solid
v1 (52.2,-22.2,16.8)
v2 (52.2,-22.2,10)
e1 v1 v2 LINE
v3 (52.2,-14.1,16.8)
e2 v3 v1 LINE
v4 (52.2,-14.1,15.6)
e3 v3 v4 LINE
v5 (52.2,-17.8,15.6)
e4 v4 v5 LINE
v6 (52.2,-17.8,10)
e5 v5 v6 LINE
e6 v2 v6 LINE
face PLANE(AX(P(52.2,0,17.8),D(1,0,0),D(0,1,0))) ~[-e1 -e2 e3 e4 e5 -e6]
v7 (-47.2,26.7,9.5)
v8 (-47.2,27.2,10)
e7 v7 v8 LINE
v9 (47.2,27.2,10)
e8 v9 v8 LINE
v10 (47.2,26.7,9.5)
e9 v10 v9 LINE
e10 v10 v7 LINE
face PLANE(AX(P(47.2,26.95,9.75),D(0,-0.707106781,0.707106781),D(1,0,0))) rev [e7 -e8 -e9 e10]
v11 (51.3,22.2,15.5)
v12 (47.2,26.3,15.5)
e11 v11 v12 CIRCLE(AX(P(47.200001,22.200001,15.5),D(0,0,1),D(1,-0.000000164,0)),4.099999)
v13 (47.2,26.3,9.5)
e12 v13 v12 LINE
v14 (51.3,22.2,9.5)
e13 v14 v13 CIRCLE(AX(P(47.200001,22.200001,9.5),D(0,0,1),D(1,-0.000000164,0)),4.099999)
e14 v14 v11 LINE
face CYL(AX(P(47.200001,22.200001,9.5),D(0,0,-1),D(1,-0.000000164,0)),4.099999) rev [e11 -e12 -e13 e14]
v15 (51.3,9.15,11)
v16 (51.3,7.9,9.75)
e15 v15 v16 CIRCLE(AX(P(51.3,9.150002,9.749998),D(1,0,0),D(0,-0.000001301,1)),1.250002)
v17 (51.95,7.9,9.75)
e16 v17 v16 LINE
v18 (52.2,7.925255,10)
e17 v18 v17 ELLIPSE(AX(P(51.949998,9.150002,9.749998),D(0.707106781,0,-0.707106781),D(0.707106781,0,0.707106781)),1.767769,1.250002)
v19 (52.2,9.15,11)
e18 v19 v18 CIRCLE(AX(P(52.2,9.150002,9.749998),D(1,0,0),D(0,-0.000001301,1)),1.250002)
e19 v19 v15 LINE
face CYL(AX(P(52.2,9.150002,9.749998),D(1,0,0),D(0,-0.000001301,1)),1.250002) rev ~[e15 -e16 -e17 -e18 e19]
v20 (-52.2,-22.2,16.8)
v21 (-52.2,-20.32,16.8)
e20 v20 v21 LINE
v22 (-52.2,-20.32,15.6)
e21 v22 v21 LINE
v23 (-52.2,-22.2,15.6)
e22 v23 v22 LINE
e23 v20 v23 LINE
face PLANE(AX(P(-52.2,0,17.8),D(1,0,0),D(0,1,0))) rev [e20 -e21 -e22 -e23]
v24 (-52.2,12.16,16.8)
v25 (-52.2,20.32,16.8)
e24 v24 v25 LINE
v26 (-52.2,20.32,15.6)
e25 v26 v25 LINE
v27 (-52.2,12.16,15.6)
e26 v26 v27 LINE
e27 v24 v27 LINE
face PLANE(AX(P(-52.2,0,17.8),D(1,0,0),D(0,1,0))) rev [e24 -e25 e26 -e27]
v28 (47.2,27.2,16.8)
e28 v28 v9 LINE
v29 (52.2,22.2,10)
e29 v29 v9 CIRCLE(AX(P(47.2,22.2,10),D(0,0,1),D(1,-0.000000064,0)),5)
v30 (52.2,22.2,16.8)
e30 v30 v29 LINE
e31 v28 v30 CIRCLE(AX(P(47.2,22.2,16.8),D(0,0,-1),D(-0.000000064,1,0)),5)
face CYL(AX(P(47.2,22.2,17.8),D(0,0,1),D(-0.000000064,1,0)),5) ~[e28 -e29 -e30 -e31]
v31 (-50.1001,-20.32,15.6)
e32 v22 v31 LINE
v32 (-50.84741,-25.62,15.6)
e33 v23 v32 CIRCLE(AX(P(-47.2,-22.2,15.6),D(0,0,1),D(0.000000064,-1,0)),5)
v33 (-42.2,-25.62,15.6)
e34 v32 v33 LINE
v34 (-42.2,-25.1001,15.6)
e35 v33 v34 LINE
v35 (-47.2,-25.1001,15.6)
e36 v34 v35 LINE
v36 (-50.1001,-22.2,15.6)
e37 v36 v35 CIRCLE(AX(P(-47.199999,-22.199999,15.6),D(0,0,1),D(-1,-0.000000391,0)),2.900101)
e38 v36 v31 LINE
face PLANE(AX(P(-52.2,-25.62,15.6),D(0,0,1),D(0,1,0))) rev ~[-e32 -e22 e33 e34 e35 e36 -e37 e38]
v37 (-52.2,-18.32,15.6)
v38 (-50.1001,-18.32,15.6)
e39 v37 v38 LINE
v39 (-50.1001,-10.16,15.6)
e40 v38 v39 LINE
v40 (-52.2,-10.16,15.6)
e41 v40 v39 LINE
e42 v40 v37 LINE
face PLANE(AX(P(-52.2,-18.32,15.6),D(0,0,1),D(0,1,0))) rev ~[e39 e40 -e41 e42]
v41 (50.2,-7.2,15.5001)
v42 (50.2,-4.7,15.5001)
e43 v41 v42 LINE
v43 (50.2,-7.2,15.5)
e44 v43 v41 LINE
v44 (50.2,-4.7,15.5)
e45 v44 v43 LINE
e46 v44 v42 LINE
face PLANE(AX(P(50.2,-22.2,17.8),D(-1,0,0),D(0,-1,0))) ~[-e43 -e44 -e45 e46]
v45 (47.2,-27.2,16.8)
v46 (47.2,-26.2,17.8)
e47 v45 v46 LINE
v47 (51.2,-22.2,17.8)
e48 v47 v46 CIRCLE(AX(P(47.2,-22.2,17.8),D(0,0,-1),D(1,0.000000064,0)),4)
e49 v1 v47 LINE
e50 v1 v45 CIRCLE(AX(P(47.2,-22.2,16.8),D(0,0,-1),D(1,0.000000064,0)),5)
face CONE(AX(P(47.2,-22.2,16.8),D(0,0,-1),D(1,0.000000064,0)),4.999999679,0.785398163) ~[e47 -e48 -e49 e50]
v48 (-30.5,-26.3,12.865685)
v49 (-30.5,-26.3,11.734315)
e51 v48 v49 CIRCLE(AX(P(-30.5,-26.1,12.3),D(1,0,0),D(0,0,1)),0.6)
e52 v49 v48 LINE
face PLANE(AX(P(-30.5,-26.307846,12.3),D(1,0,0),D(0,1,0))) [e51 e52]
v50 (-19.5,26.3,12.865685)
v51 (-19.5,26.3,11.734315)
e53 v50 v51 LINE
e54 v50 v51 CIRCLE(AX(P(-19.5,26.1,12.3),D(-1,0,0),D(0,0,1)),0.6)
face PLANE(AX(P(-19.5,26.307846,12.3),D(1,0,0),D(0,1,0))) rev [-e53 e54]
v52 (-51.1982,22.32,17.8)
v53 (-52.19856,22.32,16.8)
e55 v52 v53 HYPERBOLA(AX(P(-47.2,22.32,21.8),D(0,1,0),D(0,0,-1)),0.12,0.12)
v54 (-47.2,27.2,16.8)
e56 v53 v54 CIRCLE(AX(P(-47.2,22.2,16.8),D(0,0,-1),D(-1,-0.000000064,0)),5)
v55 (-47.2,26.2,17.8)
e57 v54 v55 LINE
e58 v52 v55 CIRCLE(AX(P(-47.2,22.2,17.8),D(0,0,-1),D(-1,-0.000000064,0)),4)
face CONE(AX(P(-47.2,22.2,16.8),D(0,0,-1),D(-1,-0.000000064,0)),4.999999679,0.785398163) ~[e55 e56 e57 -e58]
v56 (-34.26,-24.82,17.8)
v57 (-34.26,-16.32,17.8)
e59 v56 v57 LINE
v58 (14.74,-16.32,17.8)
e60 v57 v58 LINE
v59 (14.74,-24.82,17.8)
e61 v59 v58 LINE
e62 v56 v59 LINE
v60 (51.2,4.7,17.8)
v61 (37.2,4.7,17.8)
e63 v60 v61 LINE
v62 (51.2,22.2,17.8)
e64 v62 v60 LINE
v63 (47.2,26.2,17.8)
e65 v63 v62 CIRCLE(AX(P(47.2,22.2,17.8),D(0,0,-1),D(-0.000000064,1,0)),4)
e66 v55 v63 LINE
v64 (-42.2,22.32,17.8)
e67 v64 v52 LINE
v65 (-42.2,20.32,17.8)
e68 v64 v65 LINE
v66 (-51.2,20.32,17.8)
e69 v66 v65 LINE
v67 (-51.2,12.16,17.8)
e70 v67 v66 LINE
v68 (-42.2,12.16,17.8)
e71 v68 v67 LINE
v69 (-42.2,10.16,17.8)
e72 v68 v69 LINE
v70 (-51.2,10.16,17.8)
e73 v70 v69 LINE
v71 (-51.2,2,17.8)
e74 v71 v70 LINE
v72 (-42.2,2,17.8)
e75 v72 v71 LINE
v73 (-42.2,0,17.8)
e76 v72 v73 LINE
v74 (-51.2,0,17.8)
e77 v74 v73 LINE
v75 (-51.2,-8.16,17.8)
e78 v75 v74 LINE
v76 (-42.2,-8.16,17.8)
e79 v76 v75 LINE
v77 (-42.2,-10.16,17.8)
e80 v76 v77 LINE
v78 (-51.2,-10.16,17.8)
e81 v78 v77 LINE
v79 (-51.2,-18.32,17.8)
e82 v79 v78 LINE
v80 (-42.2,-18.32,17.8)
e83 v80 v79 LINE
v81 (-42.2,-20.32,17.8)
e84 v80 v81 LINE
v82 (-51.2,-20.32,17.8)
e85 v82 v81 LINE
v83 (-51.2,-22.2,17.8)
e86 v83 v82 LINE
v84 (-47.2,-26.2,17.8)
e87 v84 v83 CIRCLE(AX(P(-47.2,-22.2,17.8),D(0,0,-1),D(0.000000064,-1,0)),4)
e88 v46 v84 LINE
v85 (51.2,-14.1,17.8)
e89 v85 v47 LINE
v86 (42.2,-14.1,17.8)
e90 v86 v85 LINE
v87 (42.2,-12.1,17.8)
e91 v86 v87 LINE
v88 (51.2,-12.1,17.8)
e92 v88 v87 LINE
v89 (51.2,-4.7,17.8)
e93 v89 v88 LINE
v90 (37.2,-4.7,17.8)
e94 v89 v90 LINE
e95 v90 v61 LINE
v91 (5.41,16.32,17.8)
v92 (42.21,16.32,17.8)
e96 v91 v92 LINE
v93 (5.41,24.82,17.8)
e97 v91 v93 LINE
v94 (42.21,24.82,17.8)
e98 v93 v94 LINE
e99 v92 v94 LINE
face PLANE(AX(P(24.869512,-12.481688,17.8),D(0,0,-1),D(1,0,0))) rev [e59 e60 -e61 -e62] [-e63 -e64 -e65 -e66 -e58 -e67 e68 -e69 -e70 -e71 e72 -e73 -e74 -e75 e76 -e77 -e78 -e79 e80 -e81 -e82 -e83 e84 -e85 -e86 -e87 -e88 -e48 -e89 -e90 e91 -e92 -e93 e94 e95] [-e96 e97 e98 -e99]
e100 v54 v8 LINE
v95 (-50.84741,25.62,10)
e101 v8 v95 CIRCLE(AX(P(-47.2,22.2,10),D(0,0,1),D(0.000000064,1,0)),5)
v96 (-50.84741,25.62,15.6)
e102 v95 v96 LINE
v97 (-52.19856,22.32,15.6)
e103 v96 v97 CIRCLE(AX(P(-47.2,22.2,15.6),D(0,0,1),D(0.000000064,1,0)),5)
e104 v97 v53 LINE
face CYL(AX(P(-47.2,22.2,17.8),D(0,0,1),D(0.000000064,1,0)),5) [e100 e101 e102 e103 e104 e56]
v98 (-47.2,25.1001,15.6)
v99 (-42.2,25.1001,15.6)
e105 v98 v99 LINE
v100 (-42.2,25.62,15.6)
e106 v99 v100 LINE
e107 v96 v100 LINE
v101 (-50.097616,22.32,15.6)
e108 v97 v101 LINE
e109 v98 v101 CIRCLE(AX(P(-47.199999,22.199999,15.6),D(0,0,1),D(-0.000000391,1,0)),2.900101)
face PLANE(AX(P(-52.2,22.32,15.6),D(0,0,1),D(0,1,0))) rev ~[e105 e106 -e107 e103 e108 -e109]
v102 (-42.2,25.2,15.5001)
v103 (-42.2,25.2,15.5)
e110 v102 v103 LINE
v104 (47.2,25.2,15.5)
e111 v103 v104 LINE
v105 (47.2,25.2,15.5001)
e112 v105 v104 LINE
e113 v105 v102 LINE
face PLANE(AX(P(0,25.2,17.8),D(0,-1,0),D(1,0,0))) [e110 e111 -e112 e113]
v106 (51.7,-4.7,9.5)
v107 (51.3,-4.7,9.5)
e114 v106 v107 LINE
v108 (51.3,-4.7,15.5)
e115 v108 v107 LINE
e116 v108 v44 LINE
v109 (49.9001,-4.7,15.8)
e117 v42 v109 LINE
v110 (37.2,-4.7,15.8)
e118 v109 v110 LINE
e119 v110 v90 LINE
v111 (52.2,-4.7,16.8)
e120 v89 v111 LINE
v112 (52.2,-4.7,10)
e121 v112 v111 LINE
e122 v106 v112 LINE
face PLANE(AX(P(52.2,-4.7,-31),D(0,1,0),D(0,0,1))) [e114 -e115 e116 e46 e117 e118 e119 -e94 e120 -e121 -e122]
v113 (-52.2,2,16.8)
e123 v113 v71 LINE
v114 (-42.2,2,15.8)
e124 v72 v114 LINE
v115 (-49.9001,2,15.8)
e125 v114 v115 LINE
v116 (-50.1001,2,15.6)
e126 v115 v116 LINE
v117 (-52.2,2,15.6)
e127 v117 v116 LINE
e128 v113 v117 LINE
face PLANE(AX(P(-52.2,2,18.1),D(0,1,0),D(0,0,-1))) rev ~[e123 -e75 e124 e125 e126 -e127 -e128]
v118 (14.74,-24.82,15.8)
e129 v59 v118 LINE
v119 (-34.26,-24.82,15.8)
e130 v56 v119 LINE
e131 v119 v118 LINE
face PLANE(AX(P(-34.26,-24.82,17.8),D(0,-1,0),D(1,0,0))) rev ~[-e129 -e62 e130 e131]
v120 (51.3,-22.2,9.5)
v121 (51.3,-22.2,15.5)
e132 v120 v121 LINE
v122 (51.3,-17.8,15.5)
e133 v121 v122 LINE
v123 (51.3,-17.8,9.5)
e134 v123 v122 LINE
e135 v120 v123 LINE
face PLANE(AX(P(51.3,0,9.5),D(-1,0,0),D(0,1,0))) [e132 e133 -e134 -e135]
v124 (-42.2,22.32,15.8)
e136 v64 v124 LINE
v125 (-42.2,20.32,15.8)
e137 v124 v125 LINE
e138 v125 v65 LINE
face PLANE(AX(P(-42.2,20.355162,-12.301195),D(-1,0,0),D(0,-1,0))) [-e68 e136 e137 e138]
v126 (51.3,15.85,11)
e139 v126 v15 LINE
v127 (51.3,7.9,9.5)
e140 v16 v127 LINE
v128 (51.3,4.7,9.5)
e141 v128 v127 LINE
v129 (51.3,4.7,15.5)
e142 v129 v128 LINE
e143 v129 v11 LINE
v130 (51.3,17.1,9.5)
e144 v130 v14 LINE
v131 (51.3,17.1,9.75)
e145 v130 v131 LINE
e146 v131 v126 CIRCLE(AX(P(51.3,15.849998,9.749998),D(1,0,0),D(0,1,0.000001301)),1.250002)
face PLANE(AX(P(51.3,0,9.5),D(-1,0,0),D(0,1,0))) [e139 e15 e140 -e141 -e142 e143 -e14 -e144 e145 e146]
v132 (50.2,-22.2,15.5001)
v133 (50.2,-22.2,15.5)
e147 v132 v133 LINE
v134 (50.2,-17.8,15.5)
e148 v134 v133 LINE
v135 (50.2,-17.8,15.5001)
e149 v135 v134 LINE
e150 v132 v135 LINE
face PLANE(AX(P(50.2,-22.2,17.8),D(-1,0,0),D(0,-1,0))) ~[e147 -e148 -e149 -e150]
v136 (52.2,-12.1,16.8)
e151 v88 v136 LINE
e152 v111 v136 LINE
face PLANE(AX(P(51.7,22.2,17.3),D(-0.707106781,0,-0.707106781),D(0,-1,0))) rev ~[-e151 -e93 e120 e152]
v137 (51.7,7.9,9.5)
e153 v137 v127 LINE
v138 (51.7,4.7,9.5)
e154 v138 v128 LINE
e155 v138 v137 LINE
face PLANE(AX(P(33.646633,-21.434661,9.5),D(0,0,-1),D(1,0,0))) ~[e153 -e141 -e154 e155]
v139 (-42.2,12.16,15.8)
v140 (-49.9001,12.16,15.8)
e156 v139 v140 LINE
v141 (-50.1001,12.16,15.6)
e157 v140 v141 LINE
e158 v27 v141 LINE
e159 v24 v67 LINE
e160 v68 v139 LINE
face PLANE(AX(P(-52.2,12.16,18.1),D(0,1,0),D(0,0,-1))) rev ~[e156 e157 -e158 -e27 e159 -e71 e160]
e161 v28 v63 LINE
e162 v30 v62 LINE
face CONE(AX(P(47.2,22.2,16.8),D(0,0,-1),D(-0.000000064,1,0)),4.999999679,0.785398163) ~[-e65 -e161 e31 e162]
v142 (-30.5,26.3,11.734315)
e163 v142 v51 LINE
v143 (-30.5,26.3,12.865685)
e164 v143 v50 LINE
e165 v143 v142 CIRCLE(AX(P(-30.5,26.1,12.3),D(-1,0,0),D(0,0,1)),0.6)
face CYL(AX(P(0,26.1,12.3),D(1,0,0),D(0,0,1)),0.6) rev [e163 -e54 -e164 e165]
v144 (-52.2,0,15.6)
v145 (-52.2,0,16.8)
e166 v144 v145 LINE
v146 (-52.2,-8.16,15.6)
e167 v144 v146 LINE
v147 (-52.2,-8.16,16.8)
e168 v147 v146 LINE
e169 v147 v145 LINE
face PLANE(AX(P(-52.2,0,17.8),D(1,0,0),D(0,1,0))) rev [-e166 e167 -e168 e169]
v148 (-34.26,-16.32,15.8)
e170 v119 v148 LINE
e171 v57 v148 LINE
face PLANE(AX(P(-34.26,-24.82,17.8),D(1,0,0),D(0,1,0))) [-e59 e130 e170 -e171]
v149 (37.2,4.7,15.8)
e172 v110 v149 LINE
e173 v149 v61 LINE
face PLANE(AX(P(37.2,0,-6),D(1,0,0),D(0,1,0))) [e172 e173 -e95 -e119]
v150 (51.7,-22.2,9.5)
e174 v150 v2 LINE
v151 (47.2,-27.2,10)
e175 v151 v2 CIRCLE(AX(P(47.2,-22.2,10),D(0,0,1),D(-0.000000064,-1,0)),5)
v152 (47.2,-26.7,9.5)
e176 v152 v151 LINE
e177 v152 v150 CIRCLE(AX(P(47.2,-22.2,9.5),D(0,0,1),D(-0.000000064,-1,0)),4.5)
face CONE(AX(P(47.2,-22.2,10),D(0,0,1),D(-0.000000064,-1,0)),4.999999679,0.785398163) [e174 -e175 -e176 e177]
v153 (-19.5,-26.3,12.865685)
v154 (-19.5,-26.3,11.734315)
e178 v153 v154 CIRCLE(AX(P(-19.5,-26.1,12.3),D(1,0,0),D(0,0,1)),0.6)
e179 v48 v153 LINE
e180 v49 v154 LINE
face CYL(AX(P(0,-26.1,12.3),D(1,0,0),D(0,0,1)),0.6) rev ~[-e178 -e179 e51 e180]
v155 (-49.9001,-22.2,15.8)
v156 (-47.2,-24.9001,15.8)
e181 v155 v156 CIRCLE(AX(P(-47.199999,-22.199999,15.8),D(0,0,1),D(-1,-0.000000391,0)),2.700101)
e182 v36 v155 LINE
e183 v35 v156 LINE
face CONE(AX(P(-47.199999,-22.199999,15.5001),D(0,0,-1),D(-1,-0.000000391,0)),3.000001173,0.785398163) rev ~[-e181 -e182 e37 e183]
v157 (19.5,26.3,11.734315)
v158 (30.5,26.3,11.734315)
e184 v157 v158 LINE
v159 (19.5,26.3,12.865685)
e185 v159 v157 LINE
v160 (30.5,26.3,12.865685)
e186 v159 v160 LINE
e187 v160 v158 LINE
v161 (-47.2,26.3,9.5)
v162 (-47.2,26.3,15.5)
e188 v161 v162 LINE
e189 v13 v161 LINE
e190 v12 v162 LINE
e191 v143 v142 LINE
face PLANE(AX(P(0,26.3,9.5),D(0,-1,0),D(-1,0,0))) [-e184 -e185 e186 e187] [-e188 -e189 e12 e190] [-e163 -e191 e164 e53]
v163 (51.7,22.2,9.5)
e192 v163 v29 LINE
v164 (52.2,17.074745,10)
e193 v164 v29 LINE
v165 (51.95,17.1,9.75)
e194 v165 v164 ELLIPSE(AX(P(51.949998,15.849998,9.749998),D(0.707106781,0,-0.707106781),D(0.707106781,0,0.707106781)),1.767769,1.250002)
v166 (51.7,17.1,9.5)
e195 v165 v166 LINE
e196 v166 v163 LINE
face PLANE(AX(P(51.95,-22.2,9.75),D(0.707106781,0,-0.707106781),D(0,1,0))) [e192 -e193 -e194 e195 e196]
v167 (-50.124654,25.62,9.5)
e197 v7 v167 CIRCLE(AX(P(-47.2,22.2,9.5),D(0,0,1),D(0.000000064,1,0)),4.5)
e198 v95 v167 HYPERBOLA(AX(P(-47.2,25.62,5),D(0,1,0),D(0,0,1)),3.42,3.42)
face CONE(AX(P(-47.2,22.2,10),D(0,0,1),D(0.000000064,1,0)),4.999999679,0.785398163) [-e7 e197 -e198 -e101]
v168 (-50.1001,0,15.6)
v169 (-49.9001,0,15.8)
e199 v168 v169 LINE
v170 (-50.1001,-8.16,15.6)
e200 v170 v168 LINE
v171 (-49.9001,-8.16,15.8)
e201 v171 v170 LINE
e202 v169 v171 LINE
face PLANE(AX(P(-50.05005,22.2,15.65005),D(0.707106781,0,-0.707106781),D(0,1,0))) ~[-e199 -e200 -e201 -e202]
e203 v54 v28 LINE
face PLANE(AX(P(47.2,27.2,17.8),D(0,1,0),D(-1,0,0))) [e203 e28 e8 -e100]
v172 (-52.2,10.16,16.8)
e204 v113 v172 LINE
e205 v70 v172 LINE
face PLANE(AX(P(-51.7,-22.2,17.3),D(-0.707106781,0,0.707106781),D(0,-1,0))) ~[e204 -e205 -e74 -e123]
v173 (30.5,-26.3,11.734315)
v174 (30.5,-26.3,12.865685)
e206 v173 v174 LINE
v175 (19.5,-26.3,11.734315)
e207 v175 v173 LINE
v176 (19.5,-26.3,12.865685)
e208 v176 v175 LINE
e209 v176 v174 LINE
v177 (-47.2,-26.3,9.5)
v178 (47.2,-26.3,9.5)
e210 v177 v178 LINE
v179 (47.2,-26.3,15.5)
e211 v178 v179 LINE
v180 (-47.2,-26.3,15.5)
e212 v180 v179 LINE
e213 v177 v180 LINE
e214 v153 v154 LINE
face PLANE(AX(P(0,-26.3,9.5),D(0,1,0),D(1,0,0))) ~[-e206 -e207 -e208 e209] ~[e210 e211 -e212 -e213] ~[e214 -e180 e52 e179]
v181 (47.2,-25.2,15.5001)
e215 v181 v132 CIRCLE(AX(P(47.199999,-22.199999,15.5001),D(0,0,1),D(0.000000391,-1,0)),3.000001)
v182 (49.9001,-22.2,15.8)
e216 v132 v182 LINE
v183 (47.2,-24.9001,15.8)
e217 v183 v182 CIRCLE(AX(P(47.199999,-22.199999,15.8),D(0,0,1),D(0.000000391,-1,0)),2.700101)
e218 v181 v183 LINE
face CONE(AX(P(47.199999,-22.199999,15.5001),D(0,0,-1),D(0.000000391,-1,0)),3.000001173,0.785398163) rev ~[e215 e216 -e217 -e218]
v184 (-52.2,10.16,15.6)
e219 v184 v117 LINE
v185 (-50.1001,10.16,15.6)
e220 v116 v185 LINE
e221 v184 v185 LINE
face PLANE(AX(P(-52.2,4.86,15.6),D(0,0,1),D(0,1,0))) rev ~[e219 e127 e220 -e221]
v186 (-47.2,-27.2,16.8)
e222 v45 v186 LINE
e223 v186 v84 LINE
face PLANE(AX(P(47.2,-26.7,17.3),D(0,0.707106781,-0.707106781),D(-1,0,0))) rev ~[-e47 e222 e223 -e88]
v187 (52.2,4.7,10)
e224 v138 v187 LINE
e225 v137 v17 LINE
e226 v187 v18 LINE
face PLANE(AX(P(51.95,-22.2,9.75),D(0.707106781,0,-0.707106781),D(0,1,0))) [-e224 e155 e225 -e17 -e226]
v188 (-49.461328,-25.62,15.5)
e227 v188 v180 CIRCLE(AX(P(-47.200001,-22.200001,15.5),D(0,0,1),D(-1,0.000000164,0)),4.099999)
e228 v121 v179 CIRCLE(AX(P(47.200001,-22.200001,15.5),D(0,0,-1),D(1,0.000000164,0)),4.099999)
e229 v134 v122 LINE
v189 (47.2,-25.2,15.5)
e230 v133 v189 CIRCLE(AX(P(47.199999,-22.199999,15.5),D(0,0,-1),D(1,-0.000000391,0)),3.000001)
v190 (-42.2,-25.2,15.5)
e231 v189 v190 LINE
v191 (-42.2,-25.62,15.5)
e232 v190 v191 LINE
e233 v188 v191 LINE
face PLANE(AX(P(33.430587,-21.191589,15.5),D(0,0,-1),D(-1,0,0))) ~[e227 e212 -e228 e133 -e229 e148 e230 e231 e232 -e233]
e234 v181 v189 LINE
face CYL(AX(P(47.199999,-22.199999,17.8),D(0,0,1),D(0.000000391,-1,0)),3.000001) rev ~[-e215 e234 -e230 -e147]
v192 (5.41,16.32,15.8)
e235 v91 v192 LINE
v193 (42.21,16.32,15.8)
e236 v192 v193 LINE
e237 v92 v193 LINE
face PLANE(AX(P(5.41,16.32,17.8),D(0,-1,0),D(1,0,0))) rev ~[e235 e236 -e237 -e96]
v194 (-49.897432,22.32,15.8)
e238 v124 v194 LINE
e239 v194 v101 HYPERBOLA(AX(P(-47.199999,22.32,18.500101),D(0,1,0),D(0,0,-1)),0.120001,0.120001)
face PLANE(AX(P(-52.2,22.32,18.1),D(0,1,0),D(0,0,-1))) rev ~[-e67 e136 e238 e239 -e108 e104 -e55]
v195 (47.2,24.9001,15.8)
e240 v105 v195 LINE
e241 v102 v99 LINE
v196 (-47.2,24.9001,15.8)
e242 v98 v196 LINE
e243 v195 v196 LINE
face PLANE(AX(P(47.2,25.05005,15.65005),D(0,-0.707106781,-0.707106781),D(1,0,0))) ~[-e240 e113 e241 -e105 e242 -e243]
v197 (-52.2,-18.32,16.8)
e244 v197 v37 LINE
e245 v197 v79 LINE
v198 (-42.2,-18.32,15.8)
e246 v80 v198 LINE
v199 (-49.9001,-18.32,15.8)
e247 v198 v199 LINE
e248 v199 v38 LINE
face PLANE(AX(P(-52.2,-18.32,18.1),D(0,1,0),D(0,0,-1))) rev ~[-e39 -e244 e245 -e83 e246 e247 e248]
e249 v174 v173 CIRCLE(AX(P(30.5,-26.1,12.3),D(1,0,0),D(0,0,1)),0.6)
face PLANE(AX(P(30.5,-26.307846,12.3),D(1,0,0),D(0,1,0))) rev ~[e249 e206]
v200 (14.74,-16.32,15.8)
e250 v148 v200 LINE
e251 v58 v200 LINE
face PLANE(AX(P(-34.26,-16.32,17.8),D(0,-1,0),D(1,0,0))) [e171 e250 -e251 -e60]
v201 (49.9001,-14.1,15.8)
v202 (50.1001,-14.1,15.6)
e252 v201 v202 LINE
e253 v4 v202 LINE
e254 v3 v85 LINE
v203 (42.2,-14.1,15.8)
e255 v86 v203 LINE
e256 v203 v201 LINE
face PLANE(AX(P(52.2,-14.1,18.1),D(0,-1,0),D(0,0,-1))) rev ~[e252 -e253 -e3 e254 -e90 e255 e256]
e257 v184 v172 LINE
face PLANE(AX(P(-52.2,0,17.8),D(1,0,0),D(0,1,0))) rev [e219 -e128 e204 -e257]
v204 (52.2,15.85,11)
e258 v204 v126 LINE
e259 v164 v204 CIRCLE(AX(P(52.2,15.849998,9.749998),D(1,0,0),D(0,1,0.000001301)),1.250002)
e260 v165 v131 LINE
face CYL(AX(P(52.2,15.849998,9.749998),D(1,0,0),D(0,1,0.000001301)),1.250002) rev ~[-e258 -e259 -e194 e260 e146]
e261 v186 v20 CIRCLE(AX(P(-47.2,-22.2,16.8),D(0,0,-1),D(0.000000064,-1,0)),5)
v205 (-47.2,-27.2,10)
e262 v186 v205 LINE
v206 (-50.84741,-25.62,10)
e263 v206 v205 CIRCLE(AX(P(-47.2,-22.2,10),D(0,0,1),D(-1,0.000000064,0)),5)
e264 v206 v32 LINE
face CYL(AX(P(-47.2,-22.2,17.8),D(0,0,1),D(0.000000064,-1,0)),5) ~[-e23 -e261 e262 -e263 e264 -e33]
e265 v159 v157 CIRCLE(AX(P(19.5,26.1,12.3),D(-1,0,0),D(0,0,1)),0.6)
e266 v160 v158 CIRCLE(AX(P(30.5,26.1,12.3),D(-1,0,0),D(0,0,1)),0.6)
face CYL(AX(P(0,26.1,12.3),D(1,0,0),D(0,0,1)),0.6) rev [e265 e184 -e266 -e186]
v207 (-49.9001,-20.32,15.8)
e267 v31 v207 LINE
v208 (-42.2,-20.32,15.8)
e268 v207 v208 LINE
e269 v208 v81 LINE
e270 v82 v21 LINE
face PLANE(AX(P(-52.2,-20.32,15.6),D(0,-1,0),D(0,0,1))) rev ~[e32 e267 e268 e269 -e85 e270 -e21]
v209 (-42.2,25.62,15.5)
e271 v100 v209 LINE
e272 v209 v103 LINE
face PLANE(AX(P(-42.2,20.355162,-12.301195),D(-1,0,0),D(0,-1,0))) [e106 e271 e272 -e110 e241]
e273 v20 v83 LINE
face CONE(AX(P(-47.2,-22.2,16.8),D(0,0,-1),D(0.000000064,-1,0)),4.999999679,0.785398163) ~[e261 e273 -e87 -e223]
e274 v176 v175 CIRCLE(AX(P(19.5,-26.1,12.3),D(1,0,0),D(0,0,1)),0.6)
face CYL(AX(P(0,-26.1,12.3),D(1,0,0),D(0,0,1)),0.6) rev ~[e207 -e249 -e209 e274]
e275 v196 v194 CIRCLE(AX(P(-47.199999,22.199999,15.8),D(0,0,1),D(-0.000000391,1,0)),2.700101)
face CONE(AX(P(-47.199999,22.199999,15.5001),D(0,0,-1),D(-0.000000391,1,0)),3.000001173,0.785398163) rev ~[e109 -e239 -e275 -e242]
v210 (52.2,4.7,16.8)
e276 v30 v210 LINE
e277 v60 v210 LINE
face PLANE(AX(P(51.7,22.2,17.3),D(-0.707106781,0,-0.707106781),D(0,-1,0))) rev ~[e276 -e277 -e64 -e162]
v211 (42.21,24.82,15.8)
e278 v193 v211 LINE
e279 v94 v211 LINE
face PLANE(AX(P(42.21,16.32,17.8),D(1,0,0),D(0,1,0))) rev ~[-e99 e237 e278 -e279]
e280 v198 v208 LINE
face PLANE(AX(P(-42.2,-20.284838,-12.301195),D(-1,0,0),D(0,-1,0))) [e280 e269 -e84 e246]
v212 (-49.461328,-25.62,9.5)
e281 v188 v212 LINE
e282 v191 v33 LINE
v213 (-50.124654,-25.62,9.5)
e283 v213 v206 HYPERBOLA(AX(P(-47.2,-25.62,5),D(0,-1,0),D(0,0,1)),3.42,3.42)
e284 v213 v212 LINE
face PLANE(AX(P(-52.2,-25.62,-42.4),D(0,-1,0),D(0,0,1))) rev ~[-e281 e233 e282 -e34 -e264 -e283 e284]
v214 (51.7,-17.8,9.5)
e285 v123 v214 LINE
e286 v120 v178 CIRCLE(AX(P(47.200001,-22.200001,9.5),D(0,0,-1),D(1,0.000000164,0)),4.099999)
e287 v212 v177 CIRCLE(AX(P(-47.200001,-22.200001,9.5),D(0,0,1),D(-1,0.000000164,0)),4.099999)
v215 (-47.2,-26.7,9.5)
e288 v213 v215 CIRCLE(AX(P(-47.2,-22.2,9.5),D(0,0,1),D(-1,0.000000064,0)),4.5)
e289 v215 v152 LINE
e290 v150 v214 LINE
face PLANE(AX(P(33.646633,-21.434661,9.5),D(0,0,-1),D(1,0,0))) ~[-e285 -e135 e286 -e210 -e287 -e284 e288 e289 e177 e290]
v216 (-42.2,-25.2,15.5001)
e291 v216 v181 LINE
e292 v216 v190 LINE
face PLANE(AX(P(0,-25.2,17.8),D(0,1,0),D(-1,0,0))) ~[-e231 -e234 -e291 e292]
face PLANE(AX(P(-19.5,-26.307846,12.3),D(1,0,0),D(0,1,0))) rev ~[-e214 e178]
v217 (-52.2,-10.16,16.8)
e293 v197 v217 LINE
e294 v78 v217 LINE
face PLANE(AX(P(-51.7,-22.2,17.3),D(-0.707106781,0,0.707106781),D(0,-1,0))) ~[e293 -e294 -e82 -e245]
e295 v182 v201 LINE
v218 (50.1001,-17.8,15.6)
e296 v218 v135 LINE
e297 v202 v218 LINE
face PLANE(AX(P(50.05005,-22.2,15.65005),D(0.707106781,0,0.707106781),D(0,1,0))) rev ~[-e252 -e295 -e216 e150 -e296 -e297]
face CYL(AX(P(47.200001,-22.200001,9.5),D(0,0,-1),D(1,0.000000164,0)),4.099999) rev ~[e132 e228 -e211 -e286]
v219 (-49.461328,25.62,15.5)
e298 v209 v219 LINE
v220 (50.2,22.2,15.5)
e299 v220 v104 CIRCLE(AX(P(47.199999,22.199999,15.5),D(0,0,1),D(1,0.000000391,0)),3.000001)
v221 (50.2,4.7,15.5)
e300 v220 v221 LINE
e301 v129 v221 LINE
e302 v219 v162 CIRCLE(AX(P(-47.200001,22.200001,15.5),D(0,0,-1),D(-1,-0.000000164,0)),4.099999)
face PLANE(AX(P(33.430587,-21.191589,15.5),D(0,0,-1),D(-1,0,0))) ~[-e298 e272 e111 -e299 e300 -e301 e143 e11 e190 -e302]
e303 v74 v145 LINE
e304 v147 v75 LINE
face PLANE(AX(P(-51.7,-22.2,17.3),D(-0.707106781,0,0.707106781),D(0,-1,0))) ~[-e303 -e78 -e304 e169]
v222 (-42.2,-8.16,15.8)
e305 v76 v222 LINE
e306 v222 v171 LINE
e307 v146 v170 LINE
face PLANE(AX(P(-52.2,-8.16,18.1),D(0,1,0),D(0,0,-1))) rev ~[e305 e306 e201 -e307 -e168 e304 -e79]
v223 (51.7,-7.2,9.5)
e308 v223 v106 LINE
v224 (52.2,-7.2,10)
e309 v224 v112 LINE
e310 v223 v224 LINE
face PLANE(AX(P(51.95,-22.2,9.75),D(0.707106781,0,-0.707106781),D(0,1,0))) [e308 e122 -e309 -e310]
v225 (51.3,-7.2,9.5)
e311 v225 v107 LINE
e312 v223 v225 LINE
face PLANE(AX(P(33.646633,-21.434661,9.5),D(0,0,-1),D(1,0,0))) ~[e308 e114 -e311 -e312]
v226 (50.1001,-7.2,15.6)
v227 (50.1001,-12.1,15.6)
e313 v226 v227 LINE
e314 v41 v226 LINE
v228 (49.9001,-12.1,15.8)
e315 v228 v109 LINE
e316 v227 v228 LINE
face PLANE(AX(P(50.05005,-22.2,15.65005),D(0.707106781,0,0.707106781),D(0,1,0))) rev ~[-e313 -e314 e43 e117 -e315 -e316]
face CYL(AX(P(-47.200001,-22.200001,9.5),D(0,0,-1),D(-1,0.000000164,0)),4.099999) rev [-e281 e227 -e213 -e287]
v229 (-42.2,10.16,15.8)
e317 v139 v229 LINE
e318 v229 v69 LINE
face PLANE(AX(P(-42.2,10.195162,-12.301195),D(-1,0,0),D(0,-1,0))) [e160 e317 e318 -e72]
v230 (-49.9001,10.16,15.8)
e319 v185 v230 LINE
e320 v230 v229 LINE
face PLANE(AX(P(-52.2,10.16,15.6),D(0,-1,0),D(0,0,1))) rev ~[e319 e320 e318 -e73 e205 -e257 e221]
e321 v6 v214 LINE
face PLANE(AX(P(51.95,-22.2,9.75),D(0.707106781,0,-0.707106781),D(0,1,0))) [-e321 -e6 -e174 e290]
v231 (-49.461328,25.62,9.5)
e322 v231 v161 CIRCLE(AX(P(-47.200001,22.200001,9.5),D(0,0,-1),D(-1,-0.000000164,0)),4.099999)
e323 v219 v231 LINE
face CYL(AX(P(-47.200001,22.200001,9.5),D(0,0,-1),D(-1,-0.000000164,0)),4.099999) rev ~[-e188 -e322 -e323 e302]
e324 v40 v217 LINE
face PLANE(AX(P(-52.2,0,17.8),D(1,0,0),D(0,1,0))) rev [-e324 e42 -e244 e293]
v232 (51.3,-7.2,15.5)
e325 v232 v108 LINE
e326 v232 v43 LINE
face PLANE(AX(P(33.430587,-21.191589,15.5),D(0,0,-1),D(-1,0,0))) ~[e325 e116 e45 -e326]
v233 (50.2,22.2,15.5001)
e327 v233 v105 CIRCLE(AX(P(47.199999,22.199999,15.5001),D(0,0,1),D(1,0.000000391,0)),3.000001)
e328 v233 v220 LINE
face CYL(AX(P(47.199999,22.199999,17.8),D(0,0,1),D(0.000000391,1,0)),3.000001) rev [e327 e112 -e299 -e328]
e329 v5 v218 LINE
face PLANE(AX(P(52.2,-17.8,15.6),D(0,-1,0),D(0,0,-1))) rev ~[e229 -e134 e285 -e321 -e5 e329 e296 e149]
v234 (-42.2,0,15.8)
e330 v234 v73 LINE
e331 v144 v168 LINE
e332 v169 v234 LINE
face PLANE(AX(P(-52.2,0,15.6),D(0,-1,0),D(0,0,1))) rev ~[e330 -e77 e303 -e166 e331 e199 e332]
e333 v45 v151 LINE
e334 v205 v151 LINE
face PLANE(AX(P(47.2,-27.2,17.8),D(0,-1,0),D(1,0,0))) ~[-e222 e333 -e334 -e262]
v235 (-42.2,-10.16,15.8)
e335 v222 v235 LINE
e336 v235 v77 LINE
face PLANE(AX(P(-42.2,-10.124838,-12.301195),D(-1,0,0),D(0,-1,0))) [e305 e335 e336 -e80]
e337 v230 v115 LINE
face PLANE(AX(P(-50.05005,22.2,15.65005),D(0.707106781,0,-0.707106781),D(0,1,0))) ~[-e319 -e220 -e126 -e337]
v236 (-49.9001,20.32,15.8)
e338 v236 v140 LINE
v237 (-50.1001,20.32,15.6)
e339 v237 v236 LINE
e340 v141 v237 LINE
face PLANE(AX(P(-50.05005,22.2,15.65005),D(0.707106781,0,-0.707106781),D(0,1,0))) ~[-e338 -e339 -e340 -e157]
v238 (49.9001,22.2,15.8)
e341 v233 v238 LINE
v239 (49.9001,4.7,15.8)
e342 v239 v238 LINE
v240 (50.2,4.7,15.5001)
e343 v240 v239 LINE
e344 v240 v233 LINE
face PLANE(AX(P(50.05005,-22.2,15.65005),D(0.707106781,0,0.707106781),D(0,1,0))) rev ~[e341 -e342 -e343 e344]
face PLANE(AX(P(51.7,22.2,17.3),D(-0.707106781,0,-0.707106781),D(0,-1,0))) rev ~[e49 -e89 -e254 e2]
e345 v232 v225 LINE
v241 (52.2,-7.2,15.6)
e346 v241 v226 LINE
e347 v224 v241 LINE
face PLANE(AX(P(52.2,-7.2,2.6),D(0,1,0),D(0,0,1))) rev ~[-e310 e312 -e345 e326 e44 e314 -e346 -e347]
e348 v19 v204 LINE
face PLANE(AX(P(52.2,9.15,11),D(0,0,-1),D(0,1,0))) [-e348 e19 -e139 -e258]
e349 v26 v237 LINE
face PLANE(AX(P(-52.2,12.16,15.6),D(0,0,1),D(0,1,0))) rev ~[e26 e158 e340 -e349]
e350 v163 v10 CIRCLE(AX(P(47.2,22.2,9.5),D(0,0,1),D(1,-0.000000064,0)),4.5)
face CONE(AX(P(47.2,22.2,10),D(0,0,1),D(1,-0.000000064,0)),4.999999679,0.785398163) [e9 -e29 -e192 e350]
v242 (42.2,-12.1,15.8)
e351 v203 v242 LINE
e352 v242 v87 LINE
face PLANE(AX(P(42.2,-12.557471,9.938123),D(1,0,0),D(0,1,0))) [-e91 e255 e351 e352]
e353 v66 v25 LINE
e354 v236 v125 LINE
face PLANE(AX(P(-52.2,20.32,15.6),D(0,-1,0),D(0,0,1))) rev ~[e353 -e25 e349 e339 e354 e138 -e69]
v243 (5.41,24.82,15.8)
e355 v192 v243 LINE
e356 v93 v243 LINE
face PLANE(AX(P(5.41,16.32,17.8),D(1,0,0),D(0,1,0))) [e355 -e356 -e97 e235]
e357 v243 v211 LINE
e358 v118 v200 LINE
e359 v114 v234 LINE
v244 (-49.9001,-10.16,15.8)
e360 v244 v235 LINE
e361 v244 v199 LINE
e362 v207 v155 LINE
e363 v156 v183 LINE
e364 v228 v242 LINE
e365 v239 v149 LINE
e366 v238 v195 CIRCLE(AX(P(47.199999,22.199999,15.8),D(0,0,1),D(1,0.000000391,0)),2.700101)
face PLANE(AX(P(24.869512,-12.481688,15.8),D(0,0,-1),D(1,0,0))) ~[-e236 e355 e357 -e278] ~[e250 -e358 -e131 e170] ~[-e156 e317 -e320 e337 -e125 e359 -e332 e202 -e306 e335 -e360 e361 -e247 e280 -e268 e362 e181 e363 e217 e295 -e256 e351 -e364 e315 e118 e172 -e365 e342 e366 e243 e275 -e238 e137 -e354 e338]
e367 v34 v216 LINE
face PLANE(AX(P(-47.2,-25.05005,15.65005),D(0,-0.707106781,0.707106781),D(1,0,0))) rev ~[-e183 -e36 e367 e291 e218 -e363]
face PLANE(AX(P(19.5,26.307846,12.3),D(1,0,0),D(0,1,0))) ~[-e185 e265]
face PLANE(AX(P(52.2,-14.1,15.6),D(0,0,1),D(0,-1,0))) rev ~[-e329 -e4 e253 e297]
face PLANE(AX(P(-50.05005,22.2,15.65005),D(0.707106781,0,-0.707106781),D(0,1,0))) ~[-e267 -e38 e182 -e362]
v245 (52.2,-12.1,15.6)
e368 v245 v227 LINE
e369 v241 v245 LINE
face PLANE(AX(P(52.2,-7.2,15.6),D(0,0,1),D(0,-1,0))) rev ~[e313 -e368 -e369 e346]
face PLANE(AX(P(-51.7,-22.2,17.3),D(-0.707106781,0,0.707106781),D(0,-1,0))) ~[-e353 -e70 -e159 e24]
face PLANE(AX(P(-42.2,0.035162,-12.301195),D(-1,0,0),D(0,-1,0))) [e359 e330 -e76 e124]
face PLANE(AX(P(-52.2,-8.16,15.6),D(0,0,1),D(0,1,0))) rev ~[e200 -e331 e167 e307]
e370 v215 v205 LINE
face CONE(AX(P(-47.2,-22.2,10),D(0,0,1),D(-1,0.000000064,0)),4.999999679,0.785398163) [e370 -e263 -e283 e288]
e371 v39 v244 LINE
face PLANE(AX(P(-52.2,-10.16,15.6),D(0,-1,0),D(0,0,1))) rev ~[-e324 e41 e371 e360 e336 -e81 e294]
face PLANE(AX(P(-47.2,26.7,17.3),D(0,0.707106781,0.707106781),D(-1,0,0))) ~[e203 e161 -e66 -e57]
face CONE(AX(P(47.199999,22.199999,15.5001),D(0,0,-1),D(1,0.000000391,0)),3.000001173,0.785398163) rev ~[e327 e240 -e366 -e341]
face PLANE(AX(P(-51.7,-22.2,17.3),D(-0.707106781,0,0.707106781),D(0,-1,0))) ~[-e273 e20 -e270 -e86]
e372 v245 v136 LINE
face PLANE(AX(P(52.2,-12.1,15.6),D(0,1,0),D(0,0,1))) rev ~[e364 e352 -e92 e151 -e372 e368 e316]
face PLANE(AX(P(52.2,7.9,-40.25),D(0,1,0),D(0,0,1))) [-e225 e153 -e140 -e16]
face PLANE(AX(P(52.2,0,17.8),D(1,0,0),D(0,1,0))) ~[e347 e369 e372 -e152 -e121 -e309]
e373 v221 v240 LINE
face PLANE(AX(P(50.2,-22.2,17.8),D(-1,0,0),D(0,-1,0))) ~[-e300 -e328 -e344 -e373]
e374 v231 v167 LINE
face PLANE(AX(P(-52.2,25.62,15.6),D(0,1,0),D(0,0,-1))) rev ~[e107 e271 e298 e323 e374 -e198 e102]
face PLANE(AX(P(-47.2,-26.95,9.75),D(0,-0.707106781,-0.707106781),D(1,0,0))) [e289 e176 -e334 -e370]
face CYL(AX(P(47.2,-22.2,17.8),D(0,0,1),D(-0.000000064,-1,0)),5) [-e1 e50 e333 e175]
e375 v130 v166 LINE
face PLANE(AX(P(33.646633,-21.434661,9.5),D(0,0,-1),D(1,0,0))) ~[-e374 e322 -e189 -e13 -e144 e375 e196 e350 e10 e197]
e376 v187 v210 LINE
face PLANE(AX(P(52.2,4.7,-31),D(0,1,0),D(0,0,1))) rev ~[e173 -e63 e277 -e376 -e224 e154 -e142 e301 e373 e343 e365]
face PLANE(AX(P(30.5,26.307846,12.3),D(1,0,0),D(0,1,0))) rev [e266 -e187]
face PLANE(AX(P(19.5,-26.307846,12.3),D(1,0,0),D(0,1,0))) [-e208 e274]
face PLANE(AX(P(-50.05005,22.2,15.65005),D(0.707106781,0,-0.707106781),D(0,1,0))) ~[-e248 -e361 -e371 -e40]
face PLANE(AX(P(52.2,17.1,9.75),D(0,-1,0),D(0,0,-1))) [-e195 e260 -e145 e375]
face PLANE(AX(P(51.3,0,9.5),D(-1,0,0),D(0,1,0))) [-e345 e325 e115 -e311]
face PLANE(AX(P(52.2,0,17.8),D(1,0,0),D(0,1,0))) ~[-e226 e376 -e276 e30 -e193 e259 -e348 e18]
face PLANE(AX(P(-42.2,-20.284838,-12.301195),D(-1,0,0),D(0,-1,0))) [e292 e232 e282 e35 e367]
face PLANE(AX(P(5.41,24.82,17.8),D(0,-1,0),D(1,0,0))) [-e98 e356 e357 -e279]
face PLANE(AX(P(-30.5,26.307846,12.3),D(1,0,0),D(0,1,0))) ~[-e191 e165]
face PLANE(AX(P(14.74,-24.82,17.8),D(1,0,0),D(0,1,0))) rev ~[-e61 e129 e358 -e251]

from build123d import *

# Parameters (mm, degrees)
PAD006_DEPTH               = 8.3
POCKET_DEPTH               = 6
PAD006_MIRRORED010_2_DEPTH = 8.3
POCKET_MIRRORED010_2_DEPTH = 6
PAD007_DEPTH               = 2
PAD007_MIRRORED014_2_DEPTH = 2
POCKET003_DEPTH            = 30.5
PAD009_DEPTH               = 19.5
PAD009_FACE36_W            = 39
PAD009_FACE36_H            = 1.2
POCKET004_DEPTH            = 0.2
CHAMFER005_SIZE            = 0.5
CHAMFER006_SIZE            = 1
CHAMFER007_SIZE            = 0.2999
SKETCH030_W                = 49
SKETCH030_H                = 8.5
SKETCH030_W_2              = 36.8
POCKET010_DEPTH            = 5
POCKET011_DEPTH            = 10
SKETCH018_W                = 9.4
SKETCH018_H                = 50
POCKET012_DEPTH            = 15
POCKET013_DEPTH            = 5
POCKET014_DEPTH            = 10
POCKET015_DEPTH            = 10
POCKET016_DEPTH            = 10
POCKET017_DEPTH            = 10
POCKET018_DEPTH            = 10


with BuildPart() as part:
    # Sketch008 (on DatumPlane) → Pad006 (new body)
    with BuildSketch(Plane.XY.offset(17.8)):
        with BuildLine():
            ThreePointArc((-47.2, 27.2), (-50.735534, 25.735534), (-52.2, 22.2))
            Line((-52.2, 0), (-52.2, 22.2))
            Line((-50.2, 0), (-52.2, 0))
            Line((-50.2, 22.2), (-50.2, 0))
            ThreePointArc((-47.2, 25.2), (-49.32132, 24.32132), (-50.2, 22.2))
            Line((0, 25.2), (-47.2, 25.2))
            Line((0, 27.2), (0, 25.2))
            Line((-47.2, 27.2), (0, 27.2))
        make_face()
    pad006 = extrude(amount=-PAD006_DEPTH)

    # Sketch009 (on Face10 of Pad006) → Pocket (cut)
    with BuildSketch(Plane(origin=(0, 0, 9.5), x_dir=(1, 0, 0), z_dir=(0, 0, -1))):
        with BuildLine():
            ThreePointArc((-50.2, -22.2), (-49.32132, -24.32132), (-47.2, -25.2))
            Line((-47.2, -25.2), (0, -25.2))
            Line((0, -25.2), (0, -26.3))
            Line((0, -26.3), (-47.2, -26.3))
            ThreePointArc((-51.3, -22.2), (-50.099138, -25.099138), (-47.2, -26.3))
            Line((-51.3, 0), (-51.3, -22.2))
            Line((-50.2, 0), (-51.3, 0))
            Line((-50.2, -22.2), (-50.2, 0))
        make_face()
    pocket = extrude(amount=-POCKET_DEPTH, mode=Mode.SUBTRACT)

    # Sketch008 Mirrored010 2 → Pad006 Mirrored010 2 (add)
    with BuildSketch(Plane(origin=(0, 0, 17.8), x_dir=(-1, 0, 0), z_dir=(0, 0, -1))):
        with BuildLine():
            ThreePointArc((-47.2, 27.2), (-50.735534, 25.735534), (-52.2, 22.2))
            Line((-52.2, 0), (-52.2, 22.2))
            Line((-50.2, 0), (-52.2, 0))
            Line((-50.2, 22.2), (-50.2, 0))
            ThreePointArc((-47.2, 25.2), (-49.32132, 24.32132), (-50.2, 22.2))
            Line((0, 25.2), (-47.2, 25.2))
            Line((0, 27.2), (0, 25.2))
            Line((-47.2, 27.2), (0, 27.2))
        make_face()
    pad006_mirrored010_2 = extrude(amount=PAD006_MIRRORED010_2_DEPTH)

    # Sketch009 Mirrored010 2 → Pocket Mirrored010 2 (cut)
    with BuildSketch(Plane(origin=(0, 0, 9.5), x_dir=(-1, 0, 0), z_dir=(0, 0, 1))):
        with BuildLine():
            ThreePointArc((-50.2, -22.2), (-49.32132, -24.32132), (-47.2, -25.2))
            Line((-47.2, -25.2), (0, -25.2))
            Line((0, -25.2), (0, -26.3))
            Line((0, -26.3), (-47.2, -26.3))
            ThreePointArc((-51.3, -22.2), (-50.099138, -25.099138), (-47.2, -26.3))
            Line((-51.3, 0), (-51.3, -22.2))
            Line((-50.2, 0), (-51.3, 0))
            Line((-50.2, -22.2), (-50.2, 0))
        make_face()
    pocket_mirrored010_2 = extrude(amount=POCKET_MIRRORED010_2_DEPTH, mode=Mode.SUBTRACT)

    # Mirrored011: Pad006, Pocket, Pad006 Mirrored010 2, Pocket Mirrored010 2 across Sketch008 H_Axis
    add(pad006.mirror(Plane(origin=(0, 0, 17.8), x_dir=(0, 0, 1), z_dir=(0, 1, 0))))
    add(pocket.mirror(Plane(origin=(0, 0, 17.8), x_dir=(0, 0, 1), z_dir=(0, 1, 0))), mode=Mode.SUBTRACT)
    add(pad006_mirrored010_2.mirror(Plane(origin=(0, 0, 17.8), x_dir=(0, 0, 1), z_dir=(0, 1, 0))))
    add(pocket_mirrored010_2.mirror(Plane(origin=(0, 0, 17.8), x_dir=(0, 0, 1), z_dir=(0, 1, 0))), mode=Mode.SUBTRACT)

    # Sketch011 (on DatumPlane) → Pad007 (join)
    with BuildSketch(Plane.XY.offset(17.8)):
        with BuildLine():
            ThreePointArc((-47.2, 25.2), (-49.32132, 24.32132), (-50.2, 22.2))
            Line((-50.2, 22.2), (-50.2, 0))
            Line((-50.2, 0), (0, 0))
            Line((0, 0), (0, 25.2))
            Line((0, 25.2), (-47.2, 25.2))
        make_face()
    pad007 = extrude(amount=-PAD007_DEPTH)

    # Sketch011 Mirrored014 2 → Pad007 Mirrored014 2 (add)
    with BuildSketch(Plane(origin=(0, 0, 17.8), x_dir=(-1, 0, 0), z_dir=(0, 0, -1))):
        with BuildLine():
            ThreePointArc((-47.2, 25.2), (-49.32132, 24.32132), (-50.2, 22.2))
            Line((-50.2, 22.2), (-50.2, 0))
            Line((-50.2, 0), (0, 0))
            Line((0, 0), (0, 25.2))
            Line((0, 25.2), (-47.2, 25.2))
        make_face()
    pad007_mirrored014_2 = extrude(amount=PAD007_MIRRORED014_2_DEPTH)

    # Mirrored015: Pad007, Pad007 Mirrored014 2 across Sketch011 H_Axis
    add(pad007.mirror(Plane(origin=(0, 0, 17.8), x_dir=(0, 0, 1), z_dir=(0, 1, 0))))
    add(pad007_mirrored014_2.mirror(Plane(origin=(0, 0, 17.8), x_dir=(0, 0, 1), z_dir=(0, 1, 0))))

    # Sketch013 → Pocket003 (cut, symmetric)
    with BuildSketch(Plane.YZ):
        with BuildLine():
            ThreePointArc((-26.1, 12.9), (-26.7, 12.3), (-26.1, 11.7))
            Line((-26.1, 12.9), (-26.1, 11.7))
        make_face()
    pocket003 = extrude(amount=POCKET003_DEPTH, both=True, mode=Mode.SUBTRACT)

    # Sketch013 → Pad009 (join, symmetric)
    with BuildSketch(Plane.YZ):
        with BuildLine():
            ThreePointArc((-26.1, 12.9), (-26.7, 12.3), (-26.1, 11.7))
            Line((-26.1, 12.9), (-26.1, 11.7))
        make_face()
    pad009 = extrude(amount=PAD009_DEPTH, both=True)

    # Pad009 Face36 → Pocket004 (cut)
    with BuildSketch(Plane(origin=(0, -26.1, 12.3), x_dir=(1, 0, 0), z_dir=(0, 1, 0))):
        Rectangle(PAD009_FACE36_W, PAD009_FACE36_H)
    pocket004 = extrude(amount=-POCKET004_DEPTH, mode=Mode.SUBTRACT)

    # Mirrored017: Pocket003, Pad009, Pocket004 across Sketch013 V_Axis
    add(pocket003.mirror(Plane(origin=(0, 0, 0), x_dir=(1, 0, 0), z_dir=(0, 1, 0))), mode=Mode.SUBTRACT)
    add(pad009.mirror(Plane(origin=(0, 0, 0), x_dir=(1, 0, 0), z_dir=(0, 1, 0))))
    add(pocket004.mirror(Plane(origin=(0, 0, 0), x_dir=(1, 0, 0), z_dir=(0, 1, 0))), mode=Mode.SUBTRACT)

    # Chamfer005
    chamfer005_edges = [part.edges().sort_by_distance(p)[0] for p in [
        (0, -27.2, 9.5),
    ]]
    chamfer(chamfer005_edges, length=CHAMFER005_SIZE)

    # Chamfer006
    chamfer006_edges = [part.edges().sort_by_distance(p)[0] for p in [
        (0, -27.2, 17.8),
    ]]
    chamfer(chamfer006_edges, length=CHAMFER006_SIZE)

    # Chamfer007
    chamfer007_edges = [part.edges().sort_by_distance(p)[0] for p in [
        (50.2, 0, 15.8),
    ]]
    chamfer(chamfer007_edges, length=CHAMFER007_SIZE)

    # Sketch030 (on DatumPlane) → Pocket010 (cut)
    with BuildSketch(Plane.XY.offset(17.8)):
        with Locations((-9.76, -20.57)):
            Rectangle(SKETCH030_W, SKETCH030_H)
        with Locations((23.81, 20.57)):
            Rectangle(SKETCH030_W_2, SKETCH030_H)
    extrude(amount=-POCKET010_DEPTH, mode=Mode.SUBTRACT)

    # Sketch017 (on DatumPlane) → Pocket011 (cut)
    with BuildSketch(Plane.YZ.offset(52.2)):
        Polygon((-7.2, 7.6), (-7.2, 15.6), (-12.1, 15.6), (-12.1, 18.1), (-14.1, 18.1), (-14.1, 15.6), (-17.8, 15.6), (-17.8, 7.6), (-17.8, 2.6), (-7.2, 2.6), align=None)
    extrude(amount=-POCKET011_DEPTH, mode=Mode.SUBTRACT)

    # Sketch018 (on DatumPlane) → Pocket012 (cut)
    with BuildSketch(Plane.YZ.offset(52.2)):
        with Locations((0, -6)):
            Rectangle(SKETCH018_W, SKETCH018_H)
    extrude(amount=-POCKET012_DEPTH, mode=Mode.SUBTRACT)

    # Sketch019 (on DatumPlane) → Pocket013 (cut)
    with BuildSketch(Plane.YZ.offset(52.2)):
        with BuildLine():
            Line((7.9, -40.25), (7.9, 9.75))
            ThreePointArc((9.15, 11), (8.266117, 10.633883), (7.9, 9.75))
            Line((9.15, 11), (15.85, 11))
            ThreePointArc((17.1, 9.75), (16.733883, 10.633883), (15.85, 11))
            Line((17.1, 9.75), (17.1, -40.25))
            Line((7.9, -40.25), (17.1, -40.25))
        make_face()
    extrude(amount=-POCKET013_DEPTH, mode=Mode.SUBTRACT)

    # Sketch026 (on DatumPlane) → Pocket014 (cut)
    with BuildSketch(Plane(origin=(-52.2, 0, 0), x_dir=(0, -1, 0), z_dir=(-1, 0, 0))):
        Polygon((-15.02, 7.6), (-15.02, 15.6), (-20.32, 15.6), (-20.32, 18.1), (-22.32, 18.1), (-22.32, 15.6), (-25.62, 15.6), (-25.62, 7.6), (-25.62, -42.4), (-15.02, -42.4), align=None)
    extrude(amount=-POCKET014_DEPTH, mode=Mode.SUBTRACT)

    # Sketch027 (on DatumPlane) → Pocket015 (cut)
    with BuildSketch(Plane(origin=(-52.2, 0, 0), x_dir=(0, -1, 0), z_dir=(-1, 0, 0))):
        Polygon((-4.86, 7.6), (-4.86, 15.6), (-10.16, 15.6), (-10.16, 18.1), (-12.16, 18.1), (-12.16, 15.6), (-15.46, 15.6), (-15.46, 7.6), (-15.46, -42.4), (-4.86, -42.4), align=None)
    extrude(amount=-POCKET015_DEPTH, mode=Mode.SUBTRACT)

    # Sketch025 (on DatumPlane) → Pocket016 (cut)
    with BuildSketch(Plane(origin=(-52.2, 0, 0), x_dir=(0, -1, 0), z_dir=(-1, 0, 0))):
        Polygon((5.3, 7.6), (5.3, 15.6), (0, 15.6), (0, 18.1), (-2, 18.1), (-2, 15.6), (-5.3, 15.6), (-5.3, 7.6), (-5.3, -42.4), (5.3, -42.4), align=None)
    extrude(amount=-POCKET016_DEPTH, mode=Mode.SUBTRACT)

    # Sketch028 (on DatumPlane) → Pocket017 (cut)
    with BuildSketch(Plane(origin=(-52.2, 0, 0), x_dir=(0, -1, 0), z_dir=(-1, 0, 0))):
        Polygon((15.46, 7.6), (15.46, 15.6), (10.16, 15.6), (10.16, 18.1), (8.16, 18.1), (8.16, 15.6), (4.86, 15.6), (4.86, 7.6), (4.86, -42.4), (15.46, -42.4), align=None)
    extrude(amount=-POCKET017_DEPTH, mode=Mode.SUBTRACT)

    # Sketch029 (on DatumPlane) → Pocket018 (cut)
    with BuildSketch(Plane(origin=(-52.2, 0, 0), x_dir=(0, -1, 0), z_dir=(-1, 0, 0))):
        Polygon((25.62, 7.6), (25.62, 15.6), (20.32, 15.6), (20.32, 18.1), (18.32, 18.1), (18.32, 15.6), (15.02, 15.6), (15.02, 7.6), (15.02, -42.4), (25.62, -42.4), align=None)
    extrude(amount=-POCKET018_DEPTH, mode=Mode.SUBTRACT)


solid = part.part
